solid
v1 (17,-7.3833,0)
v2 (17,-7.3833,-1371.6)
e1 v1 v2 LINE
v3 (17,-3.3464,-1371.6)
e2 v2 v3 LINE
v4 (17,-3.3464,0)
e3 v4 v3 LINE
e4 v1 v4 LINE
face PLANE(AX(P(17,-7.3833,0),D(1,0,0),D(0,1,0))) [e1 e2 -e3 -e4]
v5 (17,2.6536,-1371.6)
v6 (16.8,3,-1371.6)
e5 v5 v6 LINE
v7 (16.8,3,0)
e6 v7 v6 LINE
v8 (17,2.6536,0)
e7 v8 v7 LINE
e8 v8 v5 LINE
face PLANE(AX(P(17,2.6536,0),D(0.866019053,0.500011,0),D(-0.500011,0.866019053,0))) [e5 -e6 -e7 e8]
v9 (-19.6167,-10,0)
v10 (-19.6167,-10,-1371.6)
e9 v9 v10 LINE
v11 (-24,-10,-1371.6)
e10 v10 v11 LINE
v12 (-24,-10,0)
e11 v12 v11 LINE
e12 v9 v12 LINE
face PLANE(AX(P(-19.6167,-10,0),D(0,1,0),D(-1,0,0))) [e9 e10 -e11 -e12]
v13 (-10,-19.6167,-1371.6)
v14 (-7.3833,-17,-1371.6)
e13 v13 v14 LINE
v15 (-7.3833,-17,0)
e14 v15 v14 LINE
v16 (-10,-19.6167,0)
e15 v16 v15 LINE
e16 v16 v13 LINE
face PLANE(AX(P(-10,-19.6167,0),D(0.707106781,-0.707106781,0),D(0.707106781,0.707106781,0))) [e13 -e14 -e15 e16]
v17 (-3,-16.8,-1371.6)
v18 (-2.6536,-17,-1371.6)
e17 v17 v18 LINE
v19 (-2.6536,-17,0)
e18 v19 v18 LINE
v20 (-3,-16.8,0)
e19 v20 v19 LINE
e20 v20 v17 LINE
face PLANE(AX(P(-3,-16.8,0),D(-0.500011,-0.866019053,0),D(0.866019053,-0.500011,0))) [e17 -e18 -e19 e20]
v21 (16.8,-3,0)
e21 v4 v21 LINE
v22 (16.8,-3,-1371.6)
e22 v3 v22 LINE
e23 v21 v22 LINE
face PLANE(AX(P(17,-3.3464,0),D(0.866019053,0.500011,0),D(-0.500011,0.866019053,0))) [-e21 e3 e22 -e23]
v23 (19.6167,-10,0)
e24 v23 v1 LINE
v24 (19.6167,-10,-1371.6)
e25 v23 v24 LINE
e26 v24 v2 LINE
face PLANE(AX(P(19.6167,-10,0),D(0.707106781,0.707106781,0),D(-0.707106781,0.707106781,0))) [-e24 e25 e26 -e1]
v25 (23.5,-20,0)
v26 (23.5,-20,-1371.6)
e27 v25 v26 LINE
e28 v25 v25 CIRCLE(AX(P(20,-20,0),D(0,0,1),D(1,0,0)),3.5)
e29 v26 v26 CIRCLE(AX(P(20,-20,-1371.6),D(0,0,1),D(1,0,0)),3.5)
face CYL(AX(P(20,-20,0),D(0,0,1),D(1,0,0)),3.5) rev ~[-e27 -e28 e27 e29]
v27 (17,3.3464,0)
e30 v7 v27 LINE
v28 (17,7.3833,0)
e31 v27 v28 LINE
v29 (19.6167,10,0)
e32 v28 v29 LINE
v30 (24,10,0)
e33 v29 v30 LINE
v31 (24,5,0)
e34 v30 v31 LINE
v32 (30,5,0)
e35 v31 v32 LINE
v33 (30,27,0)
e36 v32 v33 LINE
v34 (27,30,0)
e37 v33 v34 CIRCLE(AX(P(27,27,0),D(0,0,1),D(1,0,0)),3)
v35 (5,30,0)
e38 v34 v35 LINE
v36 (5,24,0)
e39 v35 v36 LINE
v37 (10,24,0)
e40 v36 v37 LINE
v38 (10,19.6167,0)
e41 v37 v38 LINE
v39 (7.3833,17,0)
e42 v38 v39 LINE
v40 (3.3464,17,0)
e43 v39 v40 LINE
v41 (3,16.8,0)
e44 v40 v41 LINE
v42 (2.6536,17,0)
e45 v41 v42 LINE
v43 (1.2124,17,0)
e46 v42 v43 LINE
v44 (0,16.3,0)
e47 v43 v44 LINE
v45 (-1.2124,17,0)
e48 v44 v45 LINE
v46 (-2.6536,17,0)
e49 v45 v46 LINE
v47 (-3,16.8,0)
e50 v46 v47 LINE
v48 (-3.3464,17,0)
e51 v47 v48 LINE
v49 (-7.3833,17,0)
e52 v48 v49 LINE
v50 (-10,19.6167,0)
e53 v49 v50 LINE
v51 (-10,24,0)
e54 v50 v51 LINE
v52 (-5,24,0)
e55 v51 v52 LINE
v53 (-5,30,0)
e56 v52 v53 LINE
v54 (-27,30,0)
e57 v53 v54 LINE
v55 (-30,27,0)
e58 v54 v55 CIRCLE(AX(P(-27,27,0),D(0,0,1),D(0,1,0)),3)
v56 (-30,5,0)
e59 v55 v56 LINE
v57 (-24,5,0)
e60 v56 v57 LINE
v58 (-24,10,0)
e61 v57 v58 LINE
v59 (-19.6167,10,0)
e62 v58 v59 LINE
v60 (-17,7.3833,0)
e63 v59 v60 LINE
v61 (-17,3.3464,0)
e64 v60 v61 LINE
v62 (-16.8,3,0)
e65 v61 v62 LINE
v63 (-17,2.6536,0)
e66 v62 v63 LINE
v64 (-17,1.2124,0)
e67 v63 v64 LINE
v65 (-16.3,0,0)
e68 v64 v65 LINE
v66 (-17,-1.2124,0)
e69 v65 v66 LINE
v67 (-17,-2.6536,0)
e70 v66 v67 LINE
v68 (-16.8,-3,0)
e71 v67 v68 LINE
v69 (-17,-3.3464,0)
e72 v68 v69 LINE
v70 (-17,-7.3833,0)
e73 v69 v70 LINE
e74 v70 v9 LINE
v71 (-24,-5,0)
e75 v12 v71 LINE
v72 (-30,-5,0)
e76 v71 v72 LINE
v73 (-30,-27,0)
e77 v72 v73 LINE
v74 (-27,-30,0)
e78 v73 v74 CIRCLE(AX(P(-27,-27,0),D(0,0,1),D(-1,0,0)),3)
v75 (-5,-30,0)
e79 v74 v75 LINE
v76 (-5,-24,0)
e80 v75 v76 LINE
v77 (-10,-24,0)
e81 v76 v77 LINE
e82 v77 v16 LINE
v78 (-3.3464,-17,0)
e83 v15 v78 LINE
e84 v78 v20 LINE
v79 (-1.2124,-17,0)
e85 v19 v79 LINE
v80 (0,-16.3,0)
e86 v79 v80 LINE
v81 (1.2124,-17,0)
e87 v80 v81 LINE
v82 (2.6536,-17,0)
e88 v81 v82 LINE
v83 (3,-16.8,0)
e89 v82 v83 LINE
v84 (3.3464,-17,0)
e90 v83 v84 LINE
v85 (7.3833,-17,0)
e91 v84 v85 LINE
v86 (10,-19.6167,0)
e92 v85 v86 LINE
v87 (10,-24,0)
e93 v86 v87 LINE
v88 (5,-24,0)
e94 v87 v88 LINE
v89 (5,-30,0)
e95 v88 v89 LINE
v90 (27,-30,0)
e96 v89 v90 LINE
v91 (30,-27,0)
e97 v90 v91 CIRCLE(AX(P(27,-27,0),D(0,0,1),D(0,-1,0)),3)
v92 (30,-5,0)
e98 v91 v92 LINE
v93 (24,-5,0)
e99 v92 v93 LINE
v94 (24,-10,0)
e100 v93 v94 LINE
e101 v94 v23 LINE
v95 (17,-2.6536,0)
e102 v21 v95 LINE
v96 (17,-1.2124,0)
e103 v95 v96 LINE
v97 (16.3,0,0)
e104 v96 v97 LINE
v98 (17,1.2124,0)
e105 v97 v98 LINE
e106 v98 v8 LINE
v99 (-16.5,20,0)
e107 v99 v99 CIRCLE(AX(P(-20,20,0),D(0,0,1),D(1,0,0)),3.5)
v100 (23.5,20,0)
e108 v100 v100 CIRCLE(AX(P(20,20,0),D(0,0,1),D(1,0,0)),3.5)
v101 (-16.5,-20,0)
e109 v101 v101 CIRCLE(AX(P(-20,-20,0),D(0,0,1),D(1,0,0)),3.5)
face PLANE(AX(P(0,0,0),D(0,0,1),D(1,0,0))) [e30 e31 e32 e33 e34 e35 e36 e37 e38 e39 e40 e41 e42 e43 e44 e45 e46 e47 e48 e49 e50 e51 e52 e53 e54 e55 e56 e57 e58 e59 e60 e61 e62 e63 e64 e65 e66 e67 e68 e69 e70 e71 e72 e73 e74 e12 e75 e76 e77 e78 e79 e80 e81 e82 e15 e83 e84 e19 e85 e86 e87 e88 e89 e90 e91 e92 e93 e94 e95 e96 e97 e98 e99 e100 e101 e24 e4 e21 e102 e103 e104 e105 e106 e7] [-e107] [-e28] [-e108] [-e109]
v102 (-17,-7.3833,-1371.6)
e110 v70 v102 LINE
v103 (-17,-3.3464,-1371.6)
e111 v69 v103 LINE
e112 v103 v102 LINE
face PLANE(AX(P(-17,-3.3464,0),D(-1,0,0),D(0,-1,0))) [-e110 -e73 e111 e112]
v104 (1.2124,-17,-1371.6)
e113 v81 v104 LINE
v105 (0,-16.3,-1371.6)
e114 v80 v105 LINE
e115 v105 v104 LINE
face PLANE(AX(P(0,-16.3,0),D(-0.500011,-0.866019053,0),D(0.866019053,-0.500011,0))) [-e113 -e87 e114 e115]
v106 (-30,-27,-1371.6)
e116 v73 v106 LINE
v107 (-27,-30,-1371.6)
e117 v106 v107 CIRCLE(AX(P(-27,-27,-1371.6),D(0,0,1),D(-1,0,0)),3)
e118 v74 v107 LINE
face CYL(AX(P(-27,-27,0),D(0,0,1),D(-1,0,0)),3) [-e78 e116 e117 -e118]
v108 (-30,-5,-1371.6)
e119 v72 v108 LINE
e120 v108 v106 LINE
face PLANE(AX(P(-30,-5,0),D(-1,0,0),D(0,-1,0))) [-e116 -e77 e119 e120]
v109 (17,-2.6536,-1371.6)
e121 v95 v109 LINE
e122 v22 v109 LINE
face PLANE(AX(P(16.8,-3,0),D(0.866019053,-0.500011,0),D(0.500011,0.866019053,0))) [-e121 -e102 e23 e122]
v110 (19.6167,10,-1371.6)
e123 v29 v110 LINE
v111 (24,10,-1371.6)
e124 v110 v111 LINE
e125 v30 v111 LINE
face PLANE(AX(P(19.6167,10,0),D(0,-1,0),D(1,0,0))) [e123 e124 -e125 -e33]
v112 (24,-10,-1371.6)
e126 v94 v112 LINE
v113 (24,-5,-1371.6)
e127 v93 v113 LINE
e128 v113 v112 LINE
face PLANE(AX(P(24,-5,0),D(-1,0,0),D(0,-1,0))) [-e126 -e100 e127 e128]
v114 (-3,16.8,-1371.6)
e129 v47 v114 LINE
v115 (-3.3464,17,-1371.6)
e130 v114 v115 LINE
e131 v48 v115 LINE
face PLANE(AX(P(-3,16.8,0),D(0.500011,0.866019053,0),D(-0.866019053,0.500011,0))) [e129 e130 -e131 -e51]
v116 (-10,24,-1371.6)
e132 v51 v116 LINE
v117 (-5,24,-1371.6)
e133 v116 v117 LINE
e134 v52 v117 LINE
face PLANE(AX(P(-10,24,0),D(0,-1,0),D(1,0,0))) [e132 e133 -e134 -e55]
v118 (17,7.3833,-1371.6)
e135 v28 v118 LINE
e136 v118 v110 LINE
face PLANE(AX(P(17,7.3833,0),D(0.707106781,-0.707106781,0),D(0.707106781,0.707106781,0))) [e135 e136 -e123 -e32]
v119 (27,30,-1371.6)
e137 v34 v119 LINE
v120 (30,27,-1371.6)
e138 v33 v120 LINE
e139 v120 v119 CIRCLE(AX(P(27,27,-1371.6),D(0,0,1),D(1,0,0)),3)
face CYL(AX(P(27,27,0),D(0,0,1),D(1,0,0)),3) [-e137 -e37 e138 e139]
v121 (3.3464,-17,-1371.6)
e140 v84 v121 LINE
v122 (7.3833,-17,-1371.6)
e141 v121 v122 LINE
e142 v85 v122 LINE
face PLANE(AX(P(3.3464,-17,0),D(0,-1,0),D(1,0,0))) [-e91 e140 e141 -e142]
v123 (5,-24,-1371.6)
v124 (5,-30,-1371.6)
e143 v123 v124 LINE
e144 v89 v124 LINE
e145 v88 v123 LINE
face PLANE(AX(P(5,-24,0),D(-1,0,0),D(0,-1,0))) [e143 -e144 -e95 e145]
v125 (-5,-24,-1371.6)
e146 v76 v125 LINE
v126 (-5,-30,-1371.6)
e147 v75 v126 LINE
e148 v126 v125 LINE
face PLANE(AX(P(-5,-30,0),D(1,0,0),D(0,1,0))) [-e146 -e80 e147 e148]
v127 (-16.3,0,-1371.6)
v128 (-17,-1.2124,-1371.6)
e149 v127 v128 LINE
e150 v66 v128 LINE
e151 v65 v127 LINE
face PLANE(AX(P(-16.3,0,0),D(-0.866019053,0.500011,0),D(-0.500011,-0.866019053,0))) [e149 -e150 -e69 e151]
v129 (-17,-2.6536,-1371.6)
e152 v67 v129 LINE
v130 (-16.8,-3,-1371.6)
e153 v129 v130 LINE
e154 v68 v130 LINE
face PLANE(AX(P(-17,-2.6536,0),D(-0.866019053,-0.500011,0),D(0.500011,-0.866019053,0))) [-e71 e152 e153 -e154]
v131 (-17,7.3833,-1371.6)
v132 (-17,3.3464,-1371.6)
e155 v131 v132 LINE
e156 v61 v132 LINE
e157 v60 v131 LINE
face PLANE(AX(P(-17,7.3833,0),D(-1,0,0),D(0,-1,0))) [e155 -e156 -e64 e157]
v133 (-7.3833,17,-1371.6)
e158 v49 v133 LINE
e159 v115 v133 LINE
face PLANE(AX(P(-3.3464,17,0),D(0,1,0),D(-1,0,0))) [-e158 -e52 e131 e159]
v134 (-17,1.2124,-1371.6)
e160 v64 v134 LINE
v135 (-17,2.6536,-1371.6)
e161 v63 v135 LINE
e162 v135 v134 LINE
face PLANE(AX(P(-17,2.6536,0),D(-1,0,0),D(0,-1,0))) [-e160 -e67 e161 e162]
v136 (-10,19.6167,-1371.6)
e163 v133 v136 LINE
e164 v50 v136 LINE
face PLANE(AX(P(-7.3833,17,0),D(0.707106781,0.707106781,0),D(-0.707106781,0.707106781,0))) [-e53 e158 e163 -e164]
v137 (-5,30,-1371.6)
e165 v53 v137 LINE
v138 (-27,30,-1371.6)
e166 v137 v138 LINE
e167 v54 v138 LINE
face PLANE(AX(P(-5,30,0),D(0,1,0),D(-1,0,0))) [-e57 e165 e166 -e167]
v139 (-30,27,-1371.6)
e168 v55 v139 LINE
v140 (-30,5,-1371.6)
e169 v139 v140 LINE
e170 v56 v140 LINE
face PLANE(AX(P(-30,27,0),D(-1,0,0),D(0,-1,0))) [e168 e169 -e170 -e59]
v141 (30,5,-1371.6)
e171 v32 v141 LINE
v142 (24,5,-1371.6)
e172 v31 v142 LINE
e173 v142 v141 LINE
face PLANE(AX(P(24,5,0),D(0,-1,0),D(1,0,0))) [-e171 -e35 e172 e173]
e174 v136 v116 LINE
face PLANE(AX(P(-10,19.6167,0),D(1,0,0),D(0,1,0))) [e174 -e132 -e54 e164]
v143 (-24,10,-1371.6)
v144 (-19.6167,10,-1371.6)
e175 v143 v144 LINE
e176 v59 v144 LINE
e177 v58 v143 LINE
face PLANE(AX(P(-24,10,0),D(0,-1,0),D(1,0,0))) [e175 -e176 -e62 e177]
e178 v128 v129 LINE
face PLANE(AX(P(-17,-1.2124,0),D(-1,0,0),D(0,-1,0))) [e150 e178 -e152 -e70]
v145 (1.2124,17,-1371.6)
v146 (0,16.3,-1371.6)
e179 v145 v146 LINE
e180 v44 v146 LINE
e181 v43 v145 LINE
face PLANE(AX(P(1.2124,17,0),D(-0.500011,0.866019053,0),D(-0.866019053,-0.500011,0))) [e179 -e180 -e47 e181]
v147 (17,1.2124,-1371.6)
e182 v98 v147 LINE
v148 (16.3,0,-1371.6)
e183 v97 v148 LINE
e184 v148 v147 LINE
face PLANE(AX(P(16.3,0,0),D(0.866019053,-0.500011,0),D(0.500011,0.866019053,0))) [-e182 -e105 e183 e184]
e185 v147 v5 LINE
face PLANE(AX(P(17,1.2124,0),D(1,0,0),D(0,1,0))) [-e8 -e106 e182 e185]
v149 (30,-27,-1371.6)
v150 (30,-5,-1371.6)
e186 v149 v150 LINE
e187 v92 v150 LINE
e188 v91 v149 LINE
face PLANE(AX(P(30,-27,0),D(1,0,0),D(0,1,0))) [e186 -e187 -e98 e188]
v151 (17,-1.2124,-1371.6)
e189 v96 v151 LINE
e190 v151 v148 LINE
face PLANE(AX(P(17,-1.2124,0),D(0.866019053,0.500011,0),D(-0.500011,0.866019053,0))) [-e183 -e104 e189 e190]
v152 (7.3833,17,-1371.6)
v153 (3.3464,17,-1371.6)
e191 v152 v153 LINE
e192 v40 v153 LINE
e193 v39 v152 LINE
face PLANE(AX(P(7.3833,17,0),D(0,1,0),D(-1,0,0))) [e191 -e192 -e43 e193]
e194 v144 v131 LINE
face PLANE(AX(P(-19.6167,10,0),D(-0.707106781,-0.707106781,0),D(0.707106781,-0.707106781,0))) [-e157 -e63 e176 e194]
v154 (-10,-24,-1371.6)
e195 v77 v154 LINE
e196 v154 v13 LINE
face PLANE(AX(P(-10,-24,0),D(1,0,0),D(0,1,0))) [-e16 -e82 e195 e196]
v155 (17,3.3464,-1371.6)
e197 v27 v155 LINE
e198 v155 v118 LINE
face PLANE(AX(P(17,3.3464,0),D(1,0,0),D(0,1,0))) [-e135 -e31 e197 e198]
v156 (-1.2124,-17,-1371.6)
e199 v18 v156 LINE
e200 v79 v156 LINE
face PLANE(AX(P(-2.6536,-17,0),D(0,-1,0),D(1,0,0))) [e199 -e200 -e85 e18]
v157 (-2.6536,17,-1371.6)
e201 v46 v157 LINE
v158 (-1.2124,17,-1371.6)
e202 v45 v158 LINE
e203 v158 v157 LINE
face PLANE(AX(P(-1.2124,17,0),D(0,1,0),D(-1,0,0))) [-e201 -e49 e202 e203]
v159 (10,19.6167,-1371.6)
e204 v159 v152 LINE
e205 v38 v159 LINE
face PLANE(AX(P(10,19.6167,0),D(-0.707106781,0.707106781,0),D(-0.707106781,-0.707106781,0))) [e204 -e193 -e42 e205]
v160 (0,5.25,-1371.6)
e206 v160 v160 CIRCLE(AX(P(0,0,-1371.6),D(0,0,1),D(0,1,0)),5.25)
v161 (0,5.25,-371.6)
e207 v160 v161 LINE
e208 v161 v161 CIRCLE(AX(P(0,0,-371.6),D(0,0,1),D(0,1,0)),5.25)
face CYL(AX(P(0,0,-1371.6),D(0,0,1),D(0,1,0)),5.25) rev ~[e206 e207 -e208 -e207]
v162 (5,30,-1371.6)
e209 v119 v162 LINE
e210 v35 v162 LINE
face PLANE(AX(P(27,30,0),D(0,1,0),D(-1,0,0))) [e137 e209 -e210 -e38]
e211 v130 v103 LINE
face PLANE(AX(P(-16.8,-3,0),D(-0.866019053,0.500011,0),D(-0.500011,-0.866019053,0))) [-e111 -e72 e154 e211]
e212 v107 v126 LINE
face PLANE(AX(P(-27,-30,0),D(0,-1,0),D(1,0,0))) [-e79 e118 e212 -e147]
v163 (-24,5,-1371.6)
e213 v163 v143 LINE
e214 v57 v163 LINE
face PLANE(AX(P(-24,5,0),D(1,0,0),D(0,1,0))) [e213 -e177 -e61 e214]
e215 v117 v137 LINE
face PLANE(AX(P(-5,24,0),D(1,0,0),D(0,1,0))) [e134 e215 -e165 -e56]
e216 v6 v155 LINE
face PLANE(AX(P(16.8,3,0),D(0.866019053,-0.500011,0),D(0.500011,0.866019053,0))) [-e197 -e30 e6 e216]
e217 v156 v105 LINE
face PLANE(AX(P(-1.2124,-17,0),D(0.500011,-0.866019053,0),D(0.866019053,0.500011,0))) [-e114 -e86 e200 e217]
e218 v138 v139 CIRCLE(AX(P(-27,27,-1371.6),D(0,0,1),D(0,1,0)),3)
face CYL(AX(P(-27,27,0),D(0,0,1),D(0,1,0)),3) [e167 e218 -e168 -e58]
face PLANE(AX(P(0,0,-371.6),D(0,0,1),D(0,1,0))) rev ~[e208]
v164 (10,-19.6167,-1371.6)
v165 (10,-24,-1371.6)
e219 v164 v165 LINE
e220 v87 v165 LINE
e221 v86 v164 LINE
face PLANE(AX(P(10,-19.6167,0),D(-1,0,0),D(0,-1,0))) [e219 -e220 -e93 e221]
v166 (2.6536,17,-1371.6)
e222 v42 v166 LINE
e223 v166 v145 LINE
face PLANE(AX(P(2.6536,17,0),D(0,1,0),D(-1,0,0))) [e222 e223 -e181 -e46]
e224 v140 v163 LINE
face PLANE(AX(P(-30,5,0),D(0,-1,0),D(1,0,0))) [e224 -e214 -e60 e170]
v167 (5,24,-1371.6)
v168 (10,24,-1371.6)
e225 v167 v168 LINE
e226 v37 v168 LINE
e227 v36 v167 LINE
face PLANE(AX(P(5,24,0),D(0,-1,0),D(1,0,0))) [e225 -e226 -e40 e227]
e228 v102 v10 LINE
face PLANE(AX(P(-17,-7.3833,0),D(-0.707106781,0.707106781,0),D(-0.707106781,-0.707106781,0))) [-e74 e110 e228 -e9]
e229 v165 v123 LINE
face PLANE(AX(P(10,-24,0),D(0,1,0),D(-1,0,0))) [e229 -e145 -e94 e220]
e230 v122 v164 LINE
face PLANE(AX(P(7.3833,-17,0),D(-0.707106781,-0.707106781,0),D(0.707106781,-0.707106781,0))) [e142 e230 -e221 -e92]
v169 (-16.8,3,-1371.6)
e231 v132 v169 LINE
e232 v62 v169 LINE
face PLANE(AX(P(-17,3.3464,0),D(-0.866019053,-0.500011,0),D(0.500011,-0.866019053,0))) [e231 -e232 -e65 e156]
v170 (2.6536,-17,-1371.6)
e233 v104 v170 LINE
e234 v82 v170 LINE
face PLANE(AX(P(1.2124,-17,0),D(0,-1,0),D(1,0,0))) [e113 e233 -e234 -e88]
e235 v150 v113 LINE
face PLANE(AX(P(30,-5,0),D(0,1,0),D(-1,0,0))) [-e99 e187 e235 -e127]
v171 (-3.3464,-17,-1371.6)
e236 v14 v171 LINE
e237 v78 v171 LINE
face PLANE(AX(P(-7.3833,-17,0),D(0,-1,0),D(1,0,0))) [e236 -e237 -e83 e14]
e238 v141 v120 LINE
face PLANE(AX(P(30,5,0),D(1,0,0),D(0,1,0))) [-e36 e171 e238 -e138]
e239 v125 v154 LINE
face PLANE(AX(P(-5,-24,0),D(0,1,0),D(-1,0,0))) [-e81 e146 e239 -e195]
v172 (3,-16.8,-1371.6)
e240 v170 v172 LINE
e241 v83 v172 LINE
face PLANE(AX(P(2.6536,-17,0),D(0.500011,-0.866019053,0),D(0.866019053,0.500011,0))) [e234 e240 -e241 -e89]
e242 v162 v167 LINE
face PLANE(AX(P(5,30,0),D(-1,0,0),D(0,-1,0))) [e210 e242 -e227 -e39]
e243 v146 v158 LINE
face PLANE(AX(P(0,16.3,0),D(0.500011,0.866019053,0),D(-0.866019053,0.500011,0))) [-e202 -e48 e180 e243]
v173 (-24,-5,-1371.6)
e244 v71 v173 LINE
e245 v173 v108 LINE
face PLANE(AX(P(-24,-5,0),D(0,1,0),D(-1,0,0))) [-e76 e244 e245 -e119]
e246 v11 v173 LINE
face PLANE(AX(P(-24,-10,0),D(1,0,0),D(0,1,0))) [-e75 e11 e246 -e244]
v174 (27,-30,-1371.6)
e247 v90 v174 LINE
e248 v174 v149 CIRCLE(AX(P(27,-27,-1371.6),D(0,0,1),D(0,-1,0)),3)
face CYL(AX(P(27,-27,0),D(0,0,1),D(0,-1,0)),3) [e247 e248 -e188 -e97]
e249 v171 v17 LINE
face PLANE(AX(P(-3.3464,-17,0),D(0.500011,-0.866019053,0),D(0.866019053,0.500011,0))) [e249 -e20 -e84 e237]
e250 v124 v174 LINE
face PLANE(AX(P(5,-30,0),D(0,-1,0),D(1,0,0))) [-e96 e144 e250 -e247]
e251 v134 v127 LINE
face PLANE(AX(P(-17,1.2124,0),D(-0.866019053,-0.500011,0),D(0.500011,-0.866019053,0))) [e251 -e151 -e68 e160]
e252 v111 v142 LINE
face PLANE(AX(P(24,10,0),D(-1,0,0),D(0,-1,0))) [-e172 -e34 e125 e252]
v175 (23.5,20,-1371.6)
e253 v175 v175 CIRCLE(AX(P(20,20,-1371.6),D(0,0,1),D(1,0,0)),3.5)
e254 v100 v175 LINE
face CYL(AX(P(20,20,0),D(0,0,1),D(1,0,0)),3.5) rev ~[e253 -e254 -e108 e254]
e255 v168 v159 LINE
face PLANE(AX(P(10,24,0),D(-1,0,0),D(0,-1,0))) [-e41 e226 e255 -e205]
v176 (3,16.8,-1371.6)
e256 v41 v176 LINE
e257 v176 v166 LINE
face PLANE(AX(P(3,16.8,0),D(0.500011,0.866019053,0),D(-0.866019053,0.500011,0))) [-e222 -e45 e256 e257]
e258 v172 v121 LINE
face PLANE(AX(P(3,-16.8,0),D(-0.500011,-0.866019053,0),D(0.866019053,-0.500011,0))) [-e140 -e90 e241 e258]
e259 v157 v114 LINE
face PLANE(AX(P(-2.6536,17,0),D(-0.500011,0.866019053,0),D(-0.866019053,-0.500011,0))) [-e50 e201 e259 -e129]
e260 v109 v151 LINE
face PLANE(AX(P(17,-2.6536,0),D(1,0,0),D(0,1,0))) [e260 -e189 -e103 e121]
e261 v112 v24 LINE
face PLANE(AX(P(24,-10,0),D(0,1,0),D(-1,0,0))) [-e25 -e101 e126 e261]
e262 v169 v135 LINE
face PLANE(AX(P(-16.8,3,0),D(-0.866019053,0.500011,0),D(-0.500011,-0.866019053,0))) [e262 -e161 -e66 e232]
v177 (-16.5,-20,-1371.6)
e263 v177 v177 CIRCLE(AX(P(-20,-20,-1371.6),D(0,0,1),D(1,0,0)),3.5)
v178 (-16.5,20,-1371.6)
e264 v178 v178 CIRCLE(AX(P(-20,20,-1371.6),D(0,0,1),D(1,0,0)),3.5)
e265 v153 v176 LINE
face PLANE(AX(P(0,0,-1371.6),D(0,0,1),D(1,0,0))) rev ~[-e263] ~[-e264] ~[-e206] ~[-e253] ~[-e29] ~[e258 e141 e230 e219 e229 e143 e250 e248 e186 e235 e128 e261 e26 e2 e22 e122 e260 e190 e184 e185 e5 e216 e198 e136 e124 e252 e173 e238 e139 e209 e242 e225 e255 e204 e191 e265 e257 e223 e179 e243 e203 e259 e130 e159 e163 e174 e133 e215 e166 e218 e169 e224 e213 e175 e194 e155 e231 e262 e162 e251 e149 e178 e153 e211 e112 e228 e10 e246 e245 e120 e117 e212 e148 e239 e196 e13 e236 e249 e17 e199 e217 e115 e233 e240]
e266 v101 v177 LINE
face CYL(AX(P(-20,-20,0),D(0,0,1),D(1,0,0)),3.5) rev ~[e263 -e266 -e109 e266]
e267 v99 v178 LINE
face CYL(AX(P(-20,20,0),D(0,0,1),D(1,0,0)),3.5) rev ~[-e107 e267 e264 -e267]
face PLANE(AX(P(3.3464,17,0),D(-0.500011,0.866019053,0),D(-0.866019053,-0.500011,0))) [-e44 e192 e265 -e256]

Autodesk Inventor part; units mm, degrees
sketch "Sketch_60" plane through (0, 0, 0) normal (0, 0, 1) x (1, 0, 0)
  arc A0 (-30, -27) -> (-27, -30) centre (-27, -27) ccw
  line L0 (-27, -30) -> (-5, -30)
  line L1 (-5, -30) -> (-5, -24)
  line L2 (-5, -24) -> (-10, -24)
  line L3 (-10, -24) -> (-10, -19.6167)
  line L4 (-10, -19.6167) -> (-7.3833, -17)
  line L5 (-7.3833, -17) -> (-3.3464, -17)
  line L6 (-3.3464, -17) -> (-3, -16.8)
  line L7 (-3, -16.8) -> (-2.6536, -17)
  line L8 (-2.6536, -17) -> (-1.2124, -17)
  line L9 (-1.2124, -17) -> (0, -16.3)
  line L10 (0, -16.3) -> (1.2124, -17)
  line L11 (1.2124, -17) -> (2.6536, -17)
  line L12 (2.6536, -17) -> (3, -16.8)
  line L13 (3, -16.8) -> (3.3464, -17)
  line L14 (3.3464, -17) -> (7.3833, -17)
  line L15 (7.3833, -17) -> (10, -19.6167)
  line L16 (10, -19.6167) -> (10, -24)
  line L17 (10, -24) -> (5, -24)
  line L18 (5, -24) -> (5, -30)
  line L19 (5, -30) -> (27, -30)
  arc A1 (27, -30) -> (30, -27) centre (27, -27) ccw
  line L20 (30, -27) -> (30, -5)
  line L21 (30, -5) -> (24, -5)
  line L22 (24, -5) -> (24, -10)
  line L23 (24, -10) -> (19.6167, -10)
  line L24 (19.6167, -10) -> (17, -7.3833)
  line L25 (17, -7.3833) -> (17, -3.3464)
  line L26 (17, -3.3464) -> (16.8, -3)
  line L27 (16.8, -3) -> (17, -2.6536)
  line L28 (17, -2.6536) -> (17, -1.2124)
  line L29 (17, -1.2124) -> (16.3, 0)
  line L30 (16.3, 0) -> (17, 1.2124)
  line L31 (17, 1.2124) -> (17, 2.6536)
  line L32 (17, 2.6536) -> (16.8, 3)
  line L33 (16.8, 3) -> (17, 3.3464)
  line L34 (17, 3.3464) -> (17, 7.3833)
  line L35 (17, 7.3833) -> (19.6167, 10)
  line L36 (19.6167, 10) -> (24, 10)
  line L37 (24, 10) -> (24, 5)
  line L38 (24, 5) -> (30, 5)
  line L39 (30, 5) -> (30, 27)
  arc A2 (30, 27) -> (27, 30) centre (27, 27) ccw
  line L40 (27, 30) -> (5, 30)
  line L41 (5, 30) -> (5, 24)
  line L42 (5, 24) -> (10, 24)
  line L43 (10, 24) -> (10, 19.6167)
  line L44 (10, 19.6167) -> (7.3833, 17)
  line L45 (7.3833, 17) -> (3.3464, 17)
  line L46 (3.3464, 17) -> (3, 16.8)
  line L47 (3, 16.8) -> (2.6536, 17)
  line L48 (2.6536, 17) -> (1.2124, 17)
  line L49 (1.2124, 17) -> (0, 16.3)
  line L50 (0, 16.3) -> (-1.2124, 17)
  line L51 (-1.2124, 17) -> (-2.6536, 17)
  line L52 (-2.6536, 17) -> (-3, 16.8)
  line L53 (-3, 16.8) -> (-3.3464, 17)
  line L54 (-3.3464, 17) -> (-7.3833, 17)
  line L55 (-7.3833, 17) -> (-10, 19.6167)
  line L56 (-10, 19.6167) -> (-10, 24)
  line L57 (-10, 24) -> (-5, 24)
  line L58 (-5, 24) -> (-5, 30)
  line L59 (-5, 30) -> (-27, 30)
  arc A3 (-27, 30) -> (-30, 27) centre (-27, 27) ccw
  line L60 (-30, 27) -> (-30, 5)
  line L61 (-30, 5) -> (-24, 5)
  line L62 (-24, 5) -> (-24, 10)
  line L63 (-24, 10) -> (-19.6167, 10)
  line L64 (-19.6167, 10) -> (-17, 7.3833)
  line L65 (-17, 7.3833) -> (-17, 3.3464)
  line L66 (-17, 3.3464) -> (-16.8, 3)
  line L67 (-16.8, 3) -> (-17, 2.6536)
  line L68 (-17, 2.6536) -> (-17, 1.2124)
  line L69 (-17, 1.2124) -> (-16.3, 0)
  line L70 (-16.3, 0) -> (-17, -1.2124)
  line L71 (-17, -1.2124) -> (-17, -2.6536)
  line L72 (-17, -2.6536) -> (-16.8, -3)
  line L73 (-16.8, -3) -> (-17, -3.3464)
  line L74 (-17, -3.3464) -> (-17, -7.3833)
  line L75 (-17, -7.3833) -> (-19.6167, -10)
  line L76 (-19.6167, -10) -> (-24, -10)
  line L77 (-24, -10) -> (-24, -5)
  line L78 (-24, -5) -> (-30, -5)
  line L79 (-30, -5) -> (-30, -27)
  circle A4 centre (20, 20) radius 3.5
  circle A5 centre (20, -20) radius 3.5
  circle A6 centre (-20, 20) radius 3.5
  circle A7 centre (-20, -20) radius 3.5
extrude "Extrusion1" add sketch "Sketch_60" against normal blind 1371.6
sketch "Sketch2" plane through (0, 0, -1371.6) normal (0, 0, -1) x (-1, 0, 0)
  point P0 (0, 0)
hole "Hole1" at (0, 0, -1371.6) direction (0, 0, 1) diameter 10.5 depth 1000
ref_plane "C1_XY" through (0, 0, 0) normal (0, 0, 1) x (1, 0, 0)
ref_plane "C1_YZ" through (0, 0, 0) normal (1, 0, 0) x (0, 1, 0)
ref_plane "C1_ZX" through (0, 0, 0) normal (0, 1, 0) x (0, 0, 1)
ref_plane "to_frame_cap1_XY" through (0, 0, 0) normal (0, 0, 1) x (1, 0, 0)
ref_plane "to_frame_cap1_YZ" through (0, 0, 0) normal (1, 0, 0) x (0, 1, 0)
ref_plane "to_frame_cap1_ZX" through (0, 0, 0) normal (0, 1, 0) x (0, 0, 1)
ref_plane "to_frame_cap2_XY" through (0, 0, -1000) normal (0, 0, -1) x (1, 0, 0)
ref_plane "to_frame_cap2_YZ" through (0, 0, -1000) normal (1, 0, 0) x (0, -1, 0)
ref_plane "to_frame_cap2_ZX" through (0, 0, -1000) normal (0, -1, 0) x (0, 0, -1)
properties part number "6060-5.5"
